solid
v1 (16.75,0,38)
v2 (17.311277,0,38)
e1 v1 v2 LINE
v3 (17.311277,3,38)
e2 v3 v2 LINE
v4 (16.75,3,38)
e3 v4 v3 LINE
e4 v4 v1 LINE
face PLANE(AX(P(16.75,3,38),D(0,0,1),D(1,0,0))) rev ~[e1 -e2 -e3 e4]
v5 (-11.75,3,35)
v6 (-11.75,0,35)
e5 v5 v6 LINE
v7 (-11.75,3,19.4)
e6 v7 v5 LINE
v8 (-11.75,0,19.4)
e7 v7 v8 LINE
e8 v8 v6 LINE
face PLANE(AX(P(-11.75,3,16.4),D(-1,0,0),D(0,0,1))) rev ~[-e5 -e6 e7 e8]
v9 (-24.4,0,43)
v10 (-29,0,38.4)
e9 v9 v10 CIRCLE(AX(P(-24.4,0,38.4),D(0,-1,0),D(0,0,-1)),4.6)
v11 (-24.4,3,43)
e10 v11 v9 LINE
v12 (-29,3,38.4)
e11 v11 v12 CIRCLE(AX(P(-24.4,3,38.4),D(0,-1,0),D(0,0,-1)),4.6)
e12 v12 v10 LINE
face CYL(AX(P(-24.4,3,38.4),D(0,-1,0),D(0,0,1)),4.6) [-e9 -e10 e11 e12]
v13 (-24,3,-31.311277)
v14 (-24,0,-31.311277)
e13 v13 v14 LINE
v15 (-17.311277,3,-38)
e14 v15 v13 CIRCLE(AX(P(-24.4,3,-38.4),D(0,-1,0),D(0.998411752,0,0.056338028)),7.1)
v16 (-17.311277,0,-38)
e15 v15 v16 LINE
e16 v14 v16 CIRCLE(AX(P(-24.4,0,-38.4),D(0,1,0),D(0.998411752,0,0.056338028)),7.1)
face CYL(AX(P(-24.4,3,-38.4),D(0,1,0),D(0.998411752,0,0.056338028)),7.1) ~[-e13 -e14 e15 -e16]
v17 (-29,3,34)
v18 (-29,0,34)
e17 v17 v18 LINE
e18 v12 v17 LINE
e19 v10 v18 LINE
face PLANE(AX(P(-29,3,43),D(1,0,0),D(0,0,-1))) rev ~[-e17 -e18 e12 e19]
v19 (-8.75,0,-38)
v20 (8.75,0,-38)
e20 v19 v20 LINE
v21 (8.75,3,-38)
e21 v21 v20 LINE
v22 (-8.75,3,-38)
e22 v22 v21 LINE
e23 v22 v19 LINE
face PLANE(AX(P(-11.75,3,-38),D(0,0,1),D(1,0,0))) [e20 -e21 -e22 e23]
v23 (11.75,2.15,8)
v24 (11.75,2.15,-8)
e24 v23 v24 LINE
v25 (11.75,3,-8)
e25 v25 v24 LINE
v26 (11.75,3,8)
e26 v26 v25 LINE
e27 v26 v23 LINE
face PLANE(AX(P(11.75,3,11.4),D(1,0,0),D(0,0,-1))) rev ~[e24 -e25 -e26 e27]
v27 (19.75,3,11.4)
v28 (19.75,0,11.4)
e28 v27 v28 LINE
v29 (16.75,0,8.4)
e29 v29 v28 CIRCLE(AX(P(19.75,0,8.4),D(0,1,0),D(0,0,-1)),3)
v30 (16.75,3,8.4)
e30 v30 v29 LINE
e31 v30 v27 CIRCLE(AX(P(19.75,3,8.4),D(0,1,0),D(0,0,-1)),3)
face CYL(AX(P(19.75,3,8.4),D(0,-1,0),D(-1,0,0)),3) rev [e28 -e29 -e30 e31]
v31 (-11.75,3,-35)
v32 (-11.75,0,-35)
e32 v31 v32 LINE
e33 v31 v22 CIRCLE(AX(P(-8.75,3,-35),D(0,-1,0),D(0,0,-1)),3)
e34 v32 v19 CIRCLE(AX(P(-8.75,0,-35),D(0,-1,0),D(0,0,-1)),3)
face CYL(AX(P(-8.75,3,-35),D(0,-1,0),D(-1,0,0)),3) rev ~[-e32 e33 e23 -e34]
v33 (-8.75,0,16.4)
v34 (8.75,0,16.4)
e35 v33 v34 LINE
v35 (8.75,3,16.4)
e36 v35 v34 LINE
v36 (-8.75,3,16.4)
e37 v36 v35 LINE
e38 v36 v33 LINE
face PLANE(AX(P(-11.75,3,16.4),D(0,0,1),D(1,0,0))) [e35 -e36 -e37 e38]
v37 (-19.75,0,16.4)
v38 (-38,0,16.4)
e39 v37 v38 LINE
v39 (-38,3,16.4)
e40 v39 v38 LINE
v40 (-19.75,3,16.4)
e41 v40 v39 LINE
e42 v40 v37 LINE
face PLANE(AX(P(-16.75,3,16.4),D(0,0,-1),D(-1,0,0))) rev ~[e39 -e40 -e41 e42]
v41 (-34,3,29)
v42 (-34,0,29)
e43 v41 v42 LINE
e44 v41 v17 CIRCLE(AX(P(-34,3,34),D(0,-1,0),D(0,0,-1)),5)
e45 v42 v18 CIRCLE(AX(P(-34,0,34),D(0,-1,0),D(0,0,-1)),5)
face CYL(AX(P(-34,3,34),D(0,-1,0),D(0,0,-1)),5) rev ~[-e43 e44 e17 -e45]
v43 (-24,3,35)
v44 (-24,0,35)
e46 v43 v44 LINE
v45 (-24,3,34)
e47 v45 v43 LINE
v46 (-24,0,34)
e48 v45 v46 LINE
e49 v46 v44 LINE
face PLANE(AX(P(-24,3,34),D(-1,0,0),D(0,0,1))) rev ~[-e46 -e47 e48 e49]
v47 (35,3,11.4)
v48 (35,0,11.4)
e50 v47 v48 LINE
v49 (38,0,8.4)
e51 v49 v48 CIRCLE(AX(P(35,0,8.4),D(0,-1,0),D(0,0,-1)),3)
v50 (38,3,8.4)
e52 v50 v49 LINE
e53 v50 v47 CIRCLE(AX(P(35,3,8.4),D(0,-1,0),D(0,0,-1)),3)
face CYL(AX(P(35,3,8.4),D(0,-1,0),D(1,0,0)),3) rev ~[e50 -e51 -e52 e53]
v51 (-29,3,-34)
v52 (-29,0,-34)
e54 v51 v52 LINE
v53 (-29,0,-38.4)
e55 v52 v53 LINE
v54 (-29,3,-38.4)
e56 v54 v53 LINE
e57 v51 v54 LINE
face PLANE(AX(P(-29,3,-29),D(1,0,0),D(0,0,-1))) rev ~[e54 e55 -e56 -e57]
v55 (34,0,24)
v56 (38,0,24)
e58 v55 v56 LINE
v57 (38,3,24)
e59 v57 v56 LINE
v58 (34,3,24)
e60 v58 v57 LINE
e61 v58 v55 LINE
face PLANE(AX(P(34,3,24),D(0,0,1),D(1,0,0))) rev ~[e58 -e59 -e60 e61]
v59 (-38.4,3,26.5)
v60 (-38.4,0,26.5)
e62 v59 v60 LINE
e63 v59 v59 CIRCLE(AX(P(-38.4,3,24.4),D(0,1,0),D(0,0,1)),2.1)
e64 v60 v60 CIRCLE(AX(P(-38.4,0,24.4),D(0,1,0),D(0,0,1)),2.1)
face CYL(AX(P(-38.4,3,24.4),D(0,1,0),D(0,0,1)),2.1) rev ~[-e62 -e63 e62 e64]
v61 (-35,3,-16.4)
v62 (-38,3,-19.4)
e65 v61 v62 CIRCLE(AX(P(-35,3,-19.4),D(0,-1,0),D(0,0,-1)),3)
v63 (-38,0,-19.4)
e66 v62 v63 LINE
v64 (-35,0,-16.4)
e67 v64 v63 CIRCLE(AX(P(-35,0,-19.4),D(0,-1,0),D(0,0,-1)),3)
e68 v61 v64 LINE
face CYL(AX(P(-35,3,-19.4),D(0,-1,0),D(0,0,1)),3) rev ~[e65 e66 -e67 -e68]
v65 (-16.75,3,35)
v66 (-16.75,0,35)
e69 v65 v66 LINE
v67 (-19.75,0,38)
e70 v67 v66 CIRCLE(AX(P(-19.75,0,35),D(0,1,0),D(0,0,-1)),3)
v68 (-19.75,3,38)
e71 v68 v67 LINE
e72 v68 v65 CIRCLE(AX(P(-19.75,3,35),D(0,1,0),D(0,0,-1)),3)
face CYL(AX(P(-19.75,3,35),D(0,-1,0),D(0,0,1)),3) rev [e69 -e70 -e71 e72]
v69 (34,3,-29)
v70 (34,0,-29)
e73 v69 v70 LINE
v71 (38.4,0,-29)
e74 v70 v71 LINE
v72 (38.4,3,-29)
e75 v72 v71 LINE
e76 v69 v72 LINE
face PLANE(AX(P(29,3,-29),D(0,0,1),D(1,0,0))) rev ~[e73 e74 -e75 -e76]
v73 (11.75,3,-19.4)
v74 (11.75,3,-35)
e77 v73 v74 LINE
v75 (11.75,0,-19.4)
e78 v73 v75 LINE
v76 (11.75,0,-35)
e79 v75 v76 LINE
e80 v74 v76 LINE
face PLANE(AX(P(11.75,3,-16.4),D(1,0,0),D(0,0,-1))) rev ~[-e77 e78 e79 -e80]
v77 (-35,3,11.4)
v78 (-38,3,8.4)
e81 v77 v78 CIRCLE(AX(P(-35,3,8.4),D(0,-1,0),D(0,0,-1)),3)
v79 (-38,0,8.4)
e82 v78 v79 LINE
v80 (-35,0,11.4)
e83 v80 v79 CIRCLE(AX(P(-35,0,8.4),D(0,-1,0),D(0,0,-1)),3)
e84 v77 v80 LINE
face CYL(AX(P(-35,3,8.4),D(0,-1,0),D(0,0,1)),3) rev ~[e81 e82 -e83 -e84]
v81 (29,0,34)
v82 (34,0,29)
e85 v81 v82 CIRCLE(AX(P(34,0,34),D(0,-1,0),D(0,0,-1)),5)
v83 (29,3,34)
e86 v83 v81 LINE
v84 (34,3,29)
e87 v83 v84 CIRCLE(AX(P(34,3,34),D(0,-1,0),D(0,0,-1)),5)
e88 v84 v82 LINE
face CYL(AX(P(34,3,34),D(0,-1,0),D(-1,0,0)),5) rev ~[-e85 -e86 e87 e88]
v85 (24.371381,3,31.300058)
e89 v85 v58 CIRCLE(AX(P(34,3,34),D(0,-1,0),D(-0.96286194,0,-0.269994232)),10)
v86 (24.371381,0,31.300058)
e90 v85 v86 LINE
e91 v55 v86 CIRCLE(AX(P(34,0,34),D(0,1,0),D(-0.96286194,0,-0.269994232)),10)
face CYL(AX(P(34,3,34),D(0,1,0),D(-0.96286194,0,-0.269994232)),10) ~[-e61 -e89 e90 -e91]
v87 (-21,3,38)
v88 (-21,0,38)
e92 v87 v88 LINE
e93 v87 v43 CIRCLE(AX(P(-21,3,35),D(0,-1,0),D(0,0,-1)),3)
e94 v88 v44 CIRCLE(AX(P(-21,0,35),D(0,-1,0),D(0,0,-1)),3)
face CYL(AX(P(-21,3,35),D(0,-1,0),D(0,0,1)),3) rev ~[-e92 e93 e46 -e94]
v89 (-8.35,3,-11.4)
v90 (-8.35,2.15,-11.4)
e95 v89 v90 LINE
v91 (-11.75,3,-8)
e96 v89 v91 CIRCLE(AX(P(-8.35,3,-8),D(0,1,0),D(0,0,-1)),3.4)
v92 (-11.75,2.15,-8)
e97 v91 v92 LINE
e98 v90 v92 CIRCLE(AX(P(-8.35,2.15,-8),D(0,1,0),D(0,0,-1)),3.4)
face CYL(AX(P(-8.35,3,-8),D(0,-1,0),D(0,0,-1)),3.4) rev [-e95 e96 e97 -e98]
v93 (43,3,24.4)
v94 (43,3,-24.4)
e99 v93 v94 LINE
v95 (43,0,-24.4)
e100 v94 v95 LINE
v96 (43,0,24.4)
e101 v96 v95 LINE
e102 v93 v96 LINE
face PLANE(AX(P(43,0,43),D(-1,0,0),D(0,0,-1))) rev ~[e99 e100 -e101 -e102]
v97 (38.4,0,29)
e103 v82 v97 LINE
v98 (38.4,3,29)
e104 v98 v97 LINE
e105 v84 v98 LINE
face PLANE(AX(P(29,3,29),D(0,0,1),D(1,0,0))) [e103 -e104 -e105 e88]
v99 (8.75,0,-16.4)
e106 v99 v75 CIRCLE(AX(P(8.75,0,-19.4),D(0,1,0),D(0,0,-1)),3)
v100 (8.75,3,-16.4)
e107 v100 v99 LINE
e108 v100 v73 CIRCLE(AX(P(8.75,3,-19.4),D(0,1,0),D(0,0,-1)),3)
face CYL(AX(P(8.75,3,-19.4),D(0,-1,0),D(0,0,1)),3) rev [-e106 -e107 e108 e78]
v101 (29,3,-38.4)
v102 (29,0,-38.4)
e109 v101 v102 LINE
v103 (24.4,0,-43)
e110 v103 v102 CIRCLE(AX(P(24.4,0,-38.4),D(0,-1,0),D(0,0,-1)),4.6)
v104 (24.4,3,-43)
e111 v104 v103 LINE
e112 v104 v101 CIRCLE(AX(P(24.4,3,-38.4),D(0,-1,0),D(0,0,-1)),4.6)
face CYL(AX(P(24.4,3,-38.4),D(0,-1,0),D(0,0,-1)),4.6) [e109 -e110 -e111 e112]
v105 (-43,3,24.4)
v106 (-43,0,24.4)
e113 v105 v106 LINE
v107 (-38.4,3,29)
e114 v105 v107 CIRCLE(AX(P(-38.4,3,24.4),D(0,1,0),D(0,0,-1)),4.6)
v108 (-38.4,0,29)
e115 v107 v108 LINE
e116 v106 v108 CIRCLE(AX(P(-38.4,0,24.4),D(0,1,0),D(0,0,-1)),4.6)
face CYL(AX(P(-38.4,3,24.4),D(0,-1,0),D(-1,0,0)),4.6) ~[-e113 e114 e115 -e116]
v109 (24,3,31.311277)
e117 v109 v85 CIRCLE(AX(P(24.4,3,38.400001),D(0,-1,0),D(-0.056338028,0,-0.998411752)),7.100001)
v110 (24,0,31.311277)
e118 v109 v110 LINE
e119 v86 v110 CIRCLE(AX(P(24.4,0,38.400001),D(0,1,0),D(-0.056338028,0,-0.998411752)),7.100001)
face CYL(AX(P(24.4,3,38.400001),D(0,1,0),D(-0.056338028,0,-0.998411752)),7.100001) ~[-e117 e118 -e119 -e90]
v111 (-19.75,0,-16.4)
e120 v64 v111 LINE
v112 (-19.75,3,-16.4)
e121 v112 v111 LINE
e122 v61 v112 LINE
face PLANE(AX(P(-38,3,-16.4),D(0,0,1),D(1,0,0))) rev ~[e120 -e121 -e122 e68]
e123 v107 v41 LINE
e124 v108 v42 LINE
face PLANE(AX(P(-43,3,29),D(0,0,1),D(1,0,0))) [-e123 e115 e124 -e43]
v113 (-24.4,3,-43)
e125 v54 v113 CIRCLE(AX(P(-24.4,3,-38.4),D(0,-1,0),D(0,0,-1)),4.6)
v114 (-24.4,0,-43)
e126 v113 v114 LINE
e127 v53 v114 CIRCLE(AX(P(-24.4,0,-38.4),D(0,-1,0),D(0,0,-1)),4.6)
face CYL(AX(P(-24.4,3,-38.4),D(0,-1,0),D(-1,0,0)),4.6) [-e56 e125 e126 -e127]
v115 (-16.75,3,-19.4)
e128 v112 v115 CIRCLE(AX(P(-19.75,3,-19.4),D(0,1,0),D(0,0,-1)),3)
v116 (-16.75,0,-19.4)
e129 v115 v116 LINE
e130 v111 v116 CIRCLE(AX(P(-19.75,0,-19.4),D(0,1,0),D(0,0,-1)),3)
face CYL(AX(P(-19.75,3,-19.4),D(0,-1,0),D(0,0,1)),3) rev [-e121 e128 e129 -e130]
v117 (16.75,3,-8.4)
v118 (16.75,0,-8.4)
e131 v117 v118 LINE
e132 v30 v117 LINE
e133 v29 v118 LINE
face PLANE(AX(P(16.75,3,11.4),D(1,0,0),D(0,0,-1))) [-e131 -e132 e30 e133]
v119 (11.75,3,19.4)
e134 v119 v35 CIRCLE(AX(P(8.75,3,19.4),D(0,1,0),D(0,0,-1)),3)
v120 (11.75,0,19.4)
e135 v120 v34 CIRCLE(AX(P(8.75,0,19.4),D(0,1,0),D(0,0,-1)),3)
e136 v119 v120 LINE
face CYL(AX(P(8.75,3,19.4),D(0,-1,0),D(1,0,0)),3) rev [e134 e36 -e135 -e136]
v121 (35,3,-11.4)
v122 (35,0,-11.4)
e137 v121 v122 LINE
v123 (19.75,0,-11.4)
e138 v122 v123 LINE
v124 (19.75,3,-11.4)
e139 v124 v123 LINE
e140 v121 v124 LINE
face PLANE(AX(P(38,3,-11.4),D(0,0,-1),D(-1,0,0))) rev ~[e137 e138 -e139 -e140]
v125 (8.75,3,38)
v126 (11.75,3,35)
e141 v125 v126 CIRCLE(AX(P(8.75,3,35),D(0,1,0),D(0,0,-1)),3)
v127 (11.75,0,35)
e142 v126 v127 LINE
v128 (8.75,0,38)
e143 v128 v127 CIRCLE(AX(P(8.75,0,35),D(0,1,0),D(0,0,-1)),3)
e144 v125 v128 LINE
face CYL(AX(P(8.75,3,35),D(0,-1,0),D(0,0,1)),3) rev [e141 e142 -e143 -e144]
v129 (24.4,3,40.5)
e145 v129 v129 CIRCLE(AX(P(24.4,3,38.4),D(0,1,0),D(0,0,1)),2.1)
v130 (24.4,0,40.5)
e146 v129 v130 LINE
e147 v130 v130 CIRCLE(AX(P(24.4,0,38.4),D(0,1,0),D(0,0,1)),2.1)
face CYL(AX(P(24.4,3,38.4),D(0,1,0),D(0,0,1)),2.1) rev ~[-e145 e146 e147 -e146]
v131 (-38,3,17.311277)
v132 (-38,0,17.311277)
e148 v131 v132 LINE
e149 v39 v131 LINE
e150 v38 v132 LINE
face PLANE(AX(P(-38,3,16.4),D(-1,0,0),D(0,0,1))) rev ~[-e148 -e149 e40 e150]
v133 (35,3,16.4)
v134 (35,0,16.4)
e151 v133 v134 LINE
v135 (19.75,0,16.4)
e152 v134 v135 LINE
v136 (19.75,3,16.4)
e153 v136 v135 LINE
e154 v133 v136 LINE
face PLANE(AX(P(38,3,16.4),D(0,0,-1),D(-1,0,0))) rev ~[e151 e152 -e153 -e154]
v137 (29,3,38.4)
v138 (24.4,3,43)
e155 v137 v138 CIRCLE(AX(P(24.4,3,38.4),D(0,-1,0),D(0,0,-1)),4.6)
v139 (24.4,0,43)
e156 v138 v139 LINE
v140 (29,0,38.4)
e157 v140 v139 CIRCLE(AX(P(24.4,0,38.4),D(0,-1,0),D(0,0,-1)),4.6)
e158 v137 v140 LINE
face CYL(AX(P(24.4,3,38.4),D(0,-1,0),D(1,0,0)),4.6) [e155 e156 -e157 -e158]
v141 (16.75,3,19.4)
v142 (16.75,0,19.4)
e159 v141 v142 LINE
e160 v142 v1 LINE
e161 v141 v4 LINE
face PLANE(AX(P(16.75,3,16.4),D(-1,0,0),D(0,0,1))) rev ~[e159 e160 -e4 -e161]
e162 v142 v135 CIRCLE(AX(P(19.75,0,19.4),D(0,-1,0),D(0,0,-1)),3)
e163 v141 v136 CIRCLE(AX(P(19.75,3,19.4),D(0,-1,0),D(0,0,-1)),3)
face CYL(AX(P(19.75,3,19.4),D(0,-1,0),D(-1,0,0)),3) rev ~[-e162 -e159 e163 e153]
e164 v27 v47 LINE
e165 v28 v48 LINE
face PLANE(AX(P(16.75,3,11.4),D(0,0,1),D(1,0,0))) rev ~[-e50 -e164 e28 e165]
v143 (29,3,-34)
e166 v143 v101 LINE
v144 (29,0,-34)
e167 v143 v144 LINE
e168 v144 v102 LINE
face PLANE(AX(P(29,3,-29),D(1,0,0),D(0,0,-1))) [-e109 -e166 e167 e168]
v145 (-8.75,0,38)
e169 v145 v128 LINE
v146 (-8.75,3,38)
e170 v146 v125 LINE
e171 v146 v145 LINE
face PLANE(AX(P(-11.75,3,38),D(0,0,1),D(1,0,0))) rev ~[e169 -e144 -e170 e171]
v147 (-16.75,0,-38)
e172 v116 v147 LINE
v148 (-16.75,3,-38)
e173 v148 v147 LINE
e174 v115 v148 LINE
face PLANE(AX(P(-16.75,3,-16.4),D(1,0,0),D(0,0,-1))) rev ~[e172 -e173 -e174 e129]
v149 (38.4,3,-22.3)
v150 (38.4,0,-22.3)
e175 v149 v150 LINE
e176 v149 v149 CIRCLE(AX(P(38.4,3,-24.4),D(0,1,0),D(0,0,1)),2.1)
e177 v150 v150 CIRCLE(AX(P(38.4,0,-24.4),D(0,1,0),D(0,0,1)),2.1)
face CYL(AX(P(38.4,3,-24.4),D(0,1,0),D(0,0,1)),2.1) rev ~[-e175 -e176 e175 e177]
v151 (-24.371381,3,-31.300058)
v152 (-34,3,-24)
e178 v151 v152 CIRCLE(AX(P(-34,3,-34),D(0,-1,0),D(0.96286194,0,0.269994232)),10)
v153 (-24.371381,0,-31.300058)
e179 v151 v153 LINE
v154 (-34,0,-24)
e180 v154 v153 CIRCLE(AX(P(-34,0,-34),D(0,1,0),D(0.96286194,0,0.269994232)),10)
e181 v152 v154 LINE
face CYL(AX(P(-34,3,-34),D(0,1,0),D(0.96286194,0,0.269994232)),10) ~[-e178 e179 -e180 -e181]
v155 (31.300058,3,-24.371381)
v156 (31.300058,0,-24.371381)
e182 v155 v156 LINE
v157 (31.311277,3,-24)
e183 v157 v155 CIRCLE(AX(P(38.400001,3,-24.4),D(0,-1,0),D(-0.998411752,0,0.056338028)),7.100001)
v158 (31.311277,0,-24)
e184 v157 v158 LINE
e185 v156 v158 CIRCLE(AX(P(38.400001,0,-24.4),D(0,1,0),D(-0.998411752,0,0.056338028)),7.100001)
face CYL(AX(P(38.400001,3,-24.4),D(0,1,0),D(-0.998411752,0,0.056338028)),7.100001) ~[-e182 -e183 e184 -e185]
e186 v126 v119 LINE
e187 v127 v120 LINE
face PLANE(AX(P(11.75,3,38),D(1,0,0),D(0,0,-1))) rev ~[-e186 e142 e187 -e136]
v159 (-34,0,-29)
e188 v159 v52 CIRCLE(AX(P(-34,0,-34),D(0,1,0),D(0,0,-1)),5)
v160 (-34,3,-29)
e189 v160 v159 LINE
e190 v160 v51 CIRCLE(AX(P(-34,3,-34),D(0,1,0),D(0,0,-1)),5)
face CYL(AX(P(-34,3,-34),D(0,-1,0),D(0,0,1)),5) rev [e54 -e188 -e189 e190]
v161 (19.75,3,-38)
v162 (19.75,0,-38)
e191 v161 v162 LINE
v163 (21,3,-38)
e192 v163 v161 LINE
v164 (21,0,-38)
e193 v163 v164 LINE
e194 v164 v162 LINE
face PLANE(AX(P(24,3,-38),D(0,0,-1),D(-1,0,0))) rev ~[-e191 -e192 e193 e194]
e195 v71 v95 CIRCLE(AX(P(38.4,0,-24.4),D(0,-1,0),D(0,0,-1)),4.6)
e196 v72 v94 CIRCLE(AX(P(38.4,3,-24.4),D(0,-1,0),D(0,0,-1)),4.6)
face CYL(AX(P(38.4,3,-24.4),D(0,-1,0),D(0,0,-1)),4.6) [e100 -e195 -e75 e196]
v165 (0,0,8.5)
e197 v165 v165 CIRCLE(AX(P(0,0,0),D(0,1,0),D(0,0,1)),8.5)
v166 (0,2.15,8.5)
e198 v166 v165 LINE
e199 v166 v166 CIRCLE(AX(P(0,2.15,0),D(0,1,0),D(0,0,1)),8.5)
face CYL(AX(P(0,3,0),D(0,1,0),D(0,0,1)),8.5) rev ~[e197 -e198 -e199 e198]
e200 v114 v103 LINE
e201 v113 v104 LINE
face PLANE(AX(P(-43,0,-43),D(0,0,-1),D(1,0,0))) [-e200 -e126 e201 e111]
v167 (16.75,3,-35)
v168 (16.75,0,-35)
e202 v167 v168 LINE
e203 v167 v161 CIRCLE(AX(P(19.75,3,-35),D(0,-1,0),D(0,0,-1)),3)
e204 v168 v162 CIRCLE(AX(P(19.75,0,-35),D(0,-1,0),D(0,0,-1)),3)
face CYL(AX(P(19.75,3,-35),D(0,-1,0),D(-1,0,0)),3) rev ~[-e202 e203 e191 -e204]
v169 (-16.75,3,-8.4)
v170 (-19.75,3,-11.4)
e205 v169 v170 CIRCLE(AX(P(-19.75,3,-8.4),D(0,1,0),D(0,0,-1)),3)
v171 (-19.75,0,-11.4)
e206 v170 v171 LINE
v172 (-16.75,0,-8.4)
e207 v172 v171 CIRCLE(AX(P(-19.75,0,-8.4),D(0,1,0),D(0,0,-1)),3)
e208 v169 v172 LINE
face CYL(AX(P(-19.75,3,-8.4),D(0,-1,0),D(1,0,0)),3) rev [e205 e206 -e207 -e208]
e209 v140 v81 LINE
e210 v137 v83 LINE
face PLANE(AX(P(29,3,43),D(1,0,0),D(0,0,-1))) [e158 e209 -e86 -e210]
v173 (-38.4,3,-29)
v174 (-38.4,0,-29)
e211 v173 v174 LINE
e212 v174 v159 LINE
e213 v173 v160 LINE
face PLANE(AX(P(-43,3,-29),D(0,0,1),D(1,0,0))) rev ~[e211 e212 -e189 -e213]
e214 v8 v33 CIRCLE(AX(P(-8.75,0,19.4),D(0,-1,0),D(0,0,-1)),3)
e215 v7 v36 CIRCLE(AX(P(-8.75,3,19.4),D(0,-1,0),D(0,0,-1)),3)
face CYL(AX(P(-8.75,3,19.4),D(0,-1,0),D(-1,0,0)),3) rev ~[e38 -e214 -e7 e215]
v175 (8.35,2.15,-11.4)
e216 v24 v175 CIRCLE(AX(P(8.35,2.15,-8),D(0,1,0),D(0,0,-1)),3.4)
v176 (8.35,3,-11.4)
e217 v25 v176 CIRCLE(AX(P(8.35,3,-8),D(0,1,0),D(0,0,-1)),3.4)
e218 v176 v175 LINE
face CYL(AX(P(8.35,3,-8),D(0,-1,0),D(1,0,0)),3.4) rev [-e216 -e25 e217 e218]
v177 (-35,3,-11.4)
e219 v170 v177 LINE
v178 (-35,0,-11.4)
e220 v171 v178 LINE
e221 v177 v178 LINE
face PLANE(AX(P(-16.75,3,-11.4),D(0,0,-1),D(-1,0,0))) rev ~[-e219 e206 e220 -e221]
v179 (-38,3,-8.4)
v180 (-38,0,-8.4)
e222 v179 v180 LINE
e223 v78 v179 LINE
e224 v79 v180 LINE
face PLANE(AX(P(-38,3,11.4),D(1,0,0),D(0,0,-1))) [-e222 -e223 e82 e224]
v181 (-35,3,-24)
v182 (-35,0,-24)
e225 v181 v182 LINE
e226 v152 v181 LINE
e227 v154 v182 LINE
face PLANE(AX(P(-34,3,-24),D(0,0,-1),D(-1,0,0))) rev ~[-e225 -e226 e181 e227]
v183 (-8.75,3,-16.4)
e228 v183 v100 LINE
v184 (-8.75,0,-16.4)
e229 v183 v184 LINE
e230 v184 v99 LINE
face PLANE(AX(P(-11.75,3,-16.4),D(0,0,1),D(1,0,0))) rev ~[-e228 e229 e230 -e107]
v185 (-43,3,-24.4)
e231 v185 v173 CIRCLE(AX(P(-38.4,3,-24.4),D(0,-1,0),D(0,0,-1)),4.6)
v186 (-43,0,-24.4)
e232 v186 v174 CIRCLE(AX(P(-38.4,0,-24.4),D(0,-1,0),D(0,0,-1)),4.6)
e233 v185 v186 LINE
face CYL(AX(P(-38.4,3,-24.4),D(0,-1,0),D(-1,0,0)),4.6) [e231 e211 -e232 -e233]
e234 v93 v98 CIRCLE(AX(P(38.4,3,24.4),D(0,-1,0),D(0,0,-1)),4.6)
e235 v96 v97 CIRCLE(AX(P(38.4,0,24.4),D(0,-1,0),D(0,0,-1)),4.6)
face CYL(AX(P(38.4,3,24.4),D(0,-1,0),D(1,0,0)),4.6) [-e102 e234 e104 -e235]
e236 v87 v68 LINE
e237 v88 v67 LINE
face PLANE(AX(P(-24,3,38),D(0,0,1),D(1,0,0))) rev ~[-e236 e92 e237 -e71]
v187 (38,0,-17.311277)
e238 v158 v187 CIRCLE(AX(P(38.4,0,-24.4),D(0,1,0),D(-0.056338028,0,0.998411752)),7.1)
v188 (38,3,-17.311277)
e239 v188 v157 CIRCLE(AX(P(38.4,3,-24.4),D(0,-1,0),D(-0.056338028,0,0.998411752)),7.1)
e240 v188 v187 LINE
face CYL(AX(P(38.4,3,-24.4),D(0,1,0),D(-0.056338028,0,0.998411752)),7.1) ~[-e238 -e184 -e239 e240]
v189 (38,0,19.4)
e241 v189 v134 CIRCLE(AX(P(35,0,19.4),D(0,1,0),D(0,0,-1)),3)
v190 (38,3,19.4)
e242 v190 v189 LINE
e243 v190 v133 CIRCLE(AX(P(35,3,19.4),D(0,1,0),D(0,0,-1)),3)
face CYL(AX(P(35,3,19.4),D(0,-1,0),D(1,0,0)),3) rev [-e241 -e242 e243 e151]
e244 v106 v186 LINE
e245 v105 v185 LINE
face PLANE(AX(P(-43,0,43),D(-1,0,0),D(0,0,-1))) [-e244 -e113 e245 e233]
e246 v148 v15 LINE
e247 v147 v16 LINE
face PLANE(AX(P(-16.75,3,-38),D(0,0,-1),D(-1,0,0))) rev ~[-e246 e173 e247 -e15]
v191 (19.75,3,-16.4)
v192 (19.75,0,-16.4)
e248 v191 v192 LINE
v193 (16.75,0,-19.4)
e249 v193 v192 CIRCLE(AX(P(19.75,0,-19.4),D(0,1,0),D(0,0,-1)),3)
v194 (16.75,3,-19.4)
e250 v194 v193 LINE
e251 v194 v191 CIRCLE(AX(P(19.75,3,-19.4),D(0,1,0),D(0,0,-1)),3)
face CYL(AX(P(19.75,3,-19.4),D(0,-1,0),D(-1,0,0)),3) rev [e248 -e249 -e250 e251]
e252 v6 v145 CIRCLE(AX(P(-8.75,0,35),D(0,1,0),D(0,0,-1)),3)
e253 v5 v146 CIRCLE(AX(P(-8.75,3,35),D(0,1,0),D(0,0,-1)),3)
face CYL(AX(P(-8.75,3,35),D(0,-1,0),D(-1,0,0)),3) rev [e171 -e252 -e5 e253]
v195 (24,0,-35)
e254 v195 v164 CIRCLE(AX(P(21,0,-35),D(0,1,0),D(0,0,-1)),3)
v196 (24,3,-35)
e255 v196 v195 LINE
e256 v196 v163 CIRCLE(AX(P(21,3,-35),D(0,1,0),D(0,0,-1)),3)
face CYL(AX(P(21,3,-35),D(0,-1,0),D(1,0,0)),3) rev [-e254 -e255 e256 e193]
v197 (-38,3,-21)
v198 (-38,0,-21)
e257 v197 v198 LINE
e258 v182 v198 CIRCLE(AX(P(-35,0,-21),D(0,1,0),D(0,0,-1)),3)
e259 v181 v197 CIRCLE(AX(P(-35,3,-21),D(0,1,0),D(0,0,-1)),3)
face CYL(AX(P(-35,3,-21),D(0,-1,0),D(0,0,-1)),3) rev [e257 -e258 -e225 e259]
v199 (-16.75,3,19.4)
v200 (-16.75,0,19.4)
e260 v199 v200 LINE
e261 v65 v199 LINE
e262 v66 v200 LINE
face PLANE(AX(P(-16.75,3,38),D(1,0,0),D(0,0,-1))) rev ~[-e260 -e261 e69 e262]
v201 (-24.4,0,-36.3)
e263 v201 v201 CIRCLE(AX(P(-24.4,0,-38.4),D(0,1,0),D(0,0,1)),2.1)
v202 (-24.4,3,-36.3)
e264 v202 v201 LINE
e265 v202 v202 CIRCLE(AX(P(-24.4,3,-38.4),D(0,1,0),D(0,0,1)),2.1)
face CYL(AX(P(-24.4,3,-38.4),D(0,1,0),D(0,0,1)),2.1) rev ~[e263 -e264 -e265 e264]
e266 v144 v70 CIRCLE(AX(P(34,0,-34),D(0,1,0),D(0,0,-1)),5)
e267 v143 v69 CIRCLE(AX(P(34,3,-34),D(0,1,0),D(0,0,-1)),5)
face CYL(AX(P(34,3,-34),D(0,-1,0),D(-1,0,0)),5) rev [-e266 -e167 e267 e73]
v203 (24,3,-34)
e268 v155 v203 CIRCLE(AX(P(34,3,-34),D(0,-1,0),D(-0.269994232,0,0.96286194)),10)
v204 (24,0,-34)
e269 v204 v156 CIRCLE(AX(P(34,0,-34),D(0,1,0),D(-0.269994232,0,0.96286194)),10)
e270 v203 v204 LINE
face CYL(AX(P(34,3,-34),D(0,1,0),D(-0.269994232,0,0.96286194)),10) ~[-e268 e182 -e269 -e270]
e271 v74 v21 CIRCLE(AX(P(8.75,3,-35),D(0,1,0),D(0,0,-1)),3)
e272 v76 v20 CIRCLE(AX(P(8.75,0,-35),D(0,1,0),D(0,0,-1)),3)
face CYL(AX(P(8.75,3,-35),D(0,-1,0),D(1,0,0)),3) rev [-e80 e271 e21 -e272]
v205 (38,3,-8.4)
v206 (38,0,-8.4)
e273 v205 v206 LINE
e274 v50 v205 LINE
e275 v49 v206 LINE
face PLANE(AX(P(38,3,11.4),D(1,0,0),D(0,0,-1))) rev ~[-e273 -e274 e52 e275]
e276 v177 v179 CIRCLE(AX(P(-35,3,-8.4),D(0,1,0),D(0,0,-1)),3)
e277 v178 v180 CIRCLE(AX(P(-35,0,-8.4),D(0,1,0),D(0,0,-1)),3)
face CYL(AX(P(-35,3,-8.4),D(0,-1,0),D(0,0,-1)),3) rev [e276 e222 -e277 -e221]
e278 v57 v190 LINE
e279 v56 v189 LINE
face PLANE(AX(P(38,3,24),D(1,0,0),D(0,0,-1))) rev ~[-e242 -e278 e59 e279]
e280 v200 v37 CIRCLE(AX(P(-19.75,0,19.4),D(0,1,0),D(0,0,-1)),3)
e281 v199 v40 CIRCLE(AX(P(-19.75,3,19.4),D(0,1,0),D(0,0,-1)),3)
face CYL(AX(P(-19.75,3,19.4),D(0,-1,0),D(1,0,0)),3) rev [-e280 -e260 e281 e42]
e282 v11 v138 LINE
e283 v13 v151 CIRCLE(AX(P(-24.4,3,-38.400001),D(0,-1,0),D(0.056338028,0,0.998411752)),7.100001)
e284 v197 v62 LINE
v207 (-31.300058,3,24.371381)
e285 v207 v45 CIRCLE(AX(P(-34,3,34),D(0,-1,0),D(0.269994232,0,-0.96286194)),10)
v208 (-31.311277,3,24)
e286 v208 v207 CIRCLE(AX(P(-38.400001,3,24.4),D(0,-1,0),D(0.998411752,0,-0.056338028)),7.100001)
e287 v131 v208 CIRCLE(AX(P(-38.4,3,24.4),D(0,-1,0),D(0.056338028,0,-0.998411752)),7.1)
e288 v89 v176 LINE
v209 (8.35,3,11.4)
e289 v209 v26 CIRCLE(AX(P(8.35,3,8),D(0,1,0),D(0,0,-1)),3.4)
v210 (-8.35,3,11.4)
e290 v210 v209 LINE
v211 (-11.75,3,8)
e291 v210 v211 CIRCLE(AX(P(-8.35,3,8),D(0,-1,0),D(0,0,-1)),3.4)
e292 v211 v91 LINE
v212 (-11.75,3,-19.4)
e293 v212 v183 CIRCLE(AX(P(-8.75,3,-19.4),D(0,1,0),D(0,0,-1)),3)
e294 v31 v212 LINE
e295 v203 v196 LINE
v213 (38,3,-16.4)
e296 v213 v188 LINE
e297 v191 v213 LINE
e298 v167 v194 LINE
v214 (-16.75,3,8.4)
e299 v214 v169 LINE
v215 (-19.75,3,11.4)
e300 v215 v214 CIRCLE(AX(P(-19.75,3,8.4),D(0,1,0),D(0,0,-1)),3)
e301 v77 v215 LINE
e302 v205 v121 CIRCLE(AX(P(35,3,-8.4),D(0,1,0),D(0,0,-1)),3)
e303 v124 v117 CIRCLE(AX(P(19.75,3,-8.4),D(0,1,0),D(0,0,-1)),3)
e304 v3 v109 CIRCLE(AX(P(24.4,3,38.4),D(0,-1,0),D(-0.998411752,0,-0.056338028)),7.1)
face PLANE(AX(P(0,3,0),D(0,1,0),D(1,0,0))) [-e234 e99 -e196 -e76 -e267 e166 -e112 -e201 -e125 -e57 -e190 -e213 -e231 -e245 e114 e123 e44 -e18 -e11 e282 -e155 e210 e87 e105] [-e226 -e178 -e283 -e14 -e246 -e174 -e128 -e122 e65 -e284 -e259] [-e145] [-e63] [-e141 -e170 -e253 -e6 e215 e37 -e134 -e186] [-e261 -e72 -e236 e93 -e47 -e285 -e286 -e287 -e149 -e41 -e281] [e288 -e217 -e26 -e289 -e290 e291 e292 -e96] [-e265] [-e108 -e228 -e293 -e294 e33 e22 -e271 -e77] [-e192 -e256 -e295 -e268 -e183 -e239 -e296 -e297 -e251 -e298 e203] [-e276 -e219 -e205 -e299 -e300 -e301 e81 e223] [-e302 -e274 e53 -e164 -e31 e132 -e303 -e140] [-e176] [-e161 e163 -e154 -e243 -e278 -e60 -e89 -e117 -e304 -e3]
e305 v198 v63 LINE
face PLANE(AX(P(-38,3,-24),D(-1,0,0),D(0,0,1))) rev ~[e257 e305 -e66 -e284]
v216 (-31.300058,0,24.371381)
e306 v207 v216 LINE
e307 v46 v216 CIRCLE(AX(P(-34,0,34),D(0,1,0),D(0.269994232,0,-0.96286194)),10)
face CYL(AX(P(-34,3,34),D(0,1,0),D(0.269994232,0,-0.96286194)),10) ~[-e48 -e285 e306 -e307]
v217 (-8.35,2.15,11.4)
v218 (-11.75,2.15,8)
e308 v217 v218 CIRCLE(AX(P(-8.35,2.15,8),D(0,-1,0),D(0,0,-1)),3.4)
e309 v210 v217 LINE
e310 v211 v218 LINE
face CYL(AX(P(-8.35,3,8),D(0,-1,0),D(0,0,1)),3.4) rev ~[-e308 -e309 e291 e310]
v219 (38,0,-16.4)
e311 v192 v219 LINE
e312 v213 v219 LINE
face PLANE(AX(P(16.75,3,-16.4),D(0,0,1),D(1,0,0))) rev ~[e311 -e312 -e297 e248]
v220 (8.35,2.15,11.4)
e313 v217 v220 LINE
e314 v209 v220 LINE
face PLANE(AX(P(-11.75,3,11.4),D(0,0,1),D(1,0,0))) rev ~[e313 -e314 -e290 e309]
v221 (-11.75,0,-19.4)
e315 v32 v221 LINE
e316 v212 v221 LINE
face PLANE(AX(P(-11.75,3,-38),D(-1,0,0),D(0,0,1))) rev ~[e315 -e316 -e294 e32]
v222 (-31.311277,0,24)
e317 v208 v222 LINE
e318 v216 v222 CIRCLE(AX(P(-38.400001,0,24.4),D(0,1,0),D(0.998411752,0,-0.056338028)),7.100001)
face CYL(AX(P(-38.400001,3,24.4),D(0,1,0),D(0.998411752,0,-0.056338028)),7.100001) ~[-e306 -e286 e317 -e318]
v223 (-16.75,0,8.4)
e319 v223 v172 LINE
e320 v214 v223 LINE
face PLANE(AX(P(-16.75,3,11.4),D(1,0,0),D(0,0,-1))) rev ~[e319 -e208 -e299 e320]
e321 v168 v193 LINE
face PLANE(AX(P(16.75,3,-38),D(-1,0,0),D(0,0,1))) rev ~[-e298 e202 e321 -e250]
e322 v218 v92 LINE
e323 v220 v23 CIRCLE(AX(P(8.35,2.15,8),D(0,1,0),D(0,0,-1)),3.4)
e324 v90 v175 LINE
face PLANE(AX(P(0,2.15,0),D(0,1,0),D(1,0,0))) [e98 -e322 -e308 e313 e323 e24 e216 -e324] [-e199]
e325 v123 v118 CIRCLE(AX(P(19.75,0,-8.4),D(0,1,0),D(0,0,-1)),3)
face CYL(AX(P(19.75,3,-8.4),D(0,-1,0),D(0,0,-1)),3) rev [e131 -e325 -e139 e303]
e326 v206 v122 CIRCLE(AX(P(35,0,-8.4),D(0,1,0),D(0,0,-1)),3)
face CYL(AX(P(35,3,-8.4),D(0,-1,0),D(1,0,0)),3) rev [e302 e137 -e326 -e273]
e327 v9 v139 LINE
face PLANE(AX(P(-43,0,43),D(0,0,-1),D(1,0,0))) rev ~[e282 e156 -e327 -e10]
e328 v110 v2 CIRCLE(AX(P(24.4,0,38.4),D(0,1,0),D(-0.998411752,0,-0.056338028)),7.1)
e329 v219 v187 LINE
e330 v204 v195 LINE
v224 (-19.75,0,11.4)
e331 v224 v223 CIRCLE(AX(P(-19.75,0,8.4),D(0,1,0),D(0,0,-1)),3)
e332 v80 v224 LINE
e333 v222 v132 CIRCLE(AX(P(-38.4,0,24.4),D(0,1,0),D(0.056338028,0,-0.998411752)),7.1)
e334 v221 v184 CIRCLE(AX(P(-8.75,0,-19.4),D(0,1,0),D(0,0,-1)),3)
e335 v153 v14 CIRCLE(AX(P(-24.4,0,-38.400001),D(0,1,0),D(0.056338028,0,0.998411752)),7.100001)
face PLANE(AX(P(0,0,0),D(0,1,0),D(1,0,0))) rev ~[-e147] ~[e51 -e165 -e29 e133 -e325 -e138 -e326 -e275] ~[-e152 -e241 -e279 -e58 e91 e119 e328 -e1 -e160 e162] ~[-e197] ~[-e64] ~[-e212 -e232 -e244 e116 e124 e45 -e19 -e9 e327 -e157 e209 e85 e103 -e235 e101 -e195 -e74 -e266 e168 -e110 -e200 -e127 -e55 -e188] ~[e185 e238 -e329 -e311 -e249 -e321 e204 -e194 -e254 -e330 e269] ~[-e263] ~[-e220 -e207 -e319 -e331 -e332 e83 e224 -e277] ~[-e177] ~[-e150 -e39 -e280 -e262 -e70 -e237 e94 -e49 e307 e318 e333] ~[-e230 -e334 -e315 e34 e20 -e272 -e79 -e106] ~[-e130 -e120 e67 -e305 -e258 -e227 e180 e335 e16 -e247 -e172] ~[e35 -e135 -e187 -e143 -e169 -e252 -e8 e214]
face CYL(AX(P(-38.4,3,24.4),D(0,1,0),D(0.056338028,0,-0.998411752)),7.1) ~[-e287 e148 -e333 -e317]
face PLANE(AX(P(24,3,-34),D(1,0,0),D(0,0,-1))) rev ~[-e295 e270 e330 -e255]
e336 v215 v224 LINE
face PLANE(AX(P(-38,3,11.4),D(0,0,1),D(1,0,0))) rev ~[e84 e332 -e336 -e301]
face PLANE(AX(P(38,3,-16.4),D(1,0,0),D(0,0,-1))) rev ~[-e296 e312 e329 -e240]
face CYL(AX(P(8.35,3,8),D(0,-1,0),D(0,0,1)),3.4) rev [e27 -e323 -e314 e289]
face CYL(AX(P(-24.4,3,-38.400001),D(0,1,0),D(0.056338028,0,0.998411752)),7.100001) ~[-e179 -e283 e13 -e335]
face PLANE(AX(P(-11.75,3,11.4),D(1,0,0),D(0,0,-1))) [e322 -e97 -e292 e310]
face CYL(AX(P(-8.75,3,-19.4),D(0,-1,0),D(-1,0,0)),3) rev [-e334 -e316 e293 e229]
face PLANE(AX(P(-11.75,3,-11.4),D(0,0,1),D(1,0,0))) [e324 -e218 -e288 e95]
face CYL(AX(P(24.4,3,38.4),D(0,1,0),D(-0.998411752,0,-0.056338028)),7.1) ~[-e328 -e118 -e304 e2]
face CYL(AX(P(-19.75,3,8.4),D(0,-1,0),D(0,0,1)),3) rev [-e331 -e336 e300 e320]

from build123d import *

# Parameters (mm, degrees)
SKETCH1_W           = 86
SKETCH1_H           = 86
BOSS_EXTRUDE1_DEPTH = 3
SKETCH2_R           = 8.5
SKETCH2_W           = 14
SKETCH2_H           = 14
CUT_EXTRUDE1_DEPTH  = 61.88513776
FILLET1_R           = 4.6
FILLET2_R           = 5
SKETCH3_R           = 2.1
CUT_EXTRUDE2_DEPTH  = 61.88513776
SKETCH4_W           = 23.5
SKETCH4_H           = 22.8
SKETCH4_R           = 8.5
CUT_EXTRUDE3_DEPTH  = 0.85
FILLET3_R           = 3.4
SKETCH5_W           = 23.5
SKETCH5_H           = 14
SKETCH5_H_2         = 7.6
SKETCH5_W_2         = 14
SKETCH5_H_3         = 22.8
SKETCH5_W_3         = 7.25
CUT_EXTRUDE4_DEPTH  = 61.88513776
FILLET4_R           = 3


with BuildPart() as part:
    # Sketch1 → Boss-Extrude1 (new body)
    with BuildSketch(Plane(origin=(0, 0, 0), x_dir=(1, 0, 0), z_dir=(0, 1, 0))):
        Rectangle(SKETCH1_W, SKETCH1_H)
    extrude(amount=BOSS_EXTRUDE1_DEPTH)

    # Sketch2 → Cut-Extrude1 (cut, through all)
    with BuildSketch(Plane(origin=(0, 3, 0), x_dir=(1, 0, 0), z_dir=(0, 1, 0))):
        with Locations(Location((0, 0, 0), (0, 0, 270))):
            Circle(SKETCH2_R)
        with Locations((36, 36)):
            Rectangle(SKETCH2_W, SKETCH2_H)
        with Locations((-36, 36)):
            Rectangle(SKETCH2_W, SKETCH2_H)
        with Locations((36, -36)):
            Rectangle(SKETCH2_W, SKETCH2_H)
        with Locations((-36, -36)):
            Rectangle(SKETCH2_W, SKETCH2_H)
    extrude(amount=-CUT_EXTRUDE1_DEPTH, mode=Mode.SUBTRACT)

    # Fillet1
    fillet1_edges = [part.edges().sort_by_distance(p)[0] for p in [
        (-43, 1.5, 29),
        (-29, 1.5, 43),
        (43, 1.5, 29),
        (29, 1.5, 43),
        (29, 1.5, -43),
        (43, 1.5, -29),
        (-43, 1.5, -29),
        (-29, 1.5, -43),
    ]]
    fillet(fillet1_edges, radius=FILLET1_R)

    # Fillet2
    fillet2_edges = [part.edges().sort_by_distance(p)[0] for p in [
        (-29, 1.5, 29),
        (29, 1.5, 29),
        (29, 1.5, -29),
        (-29, 1.5, -29),
    ]]
    fillet(fillet2_edges, radius=FILLET2_R)

    # Sketch3 → Cut-Extrude2 (cut, through all)
    with BuildSketch(Plane(origin=(0, 3, 0), x_dir=(1, 0, 0), z_dir=(0, 1, 0))):
        with Locations(Location((38.4, 24.4, 0), (0, 0, 270))):
            Circle(SKETCH3_R)
        with Locations(Location((-24.4, 38.4, 0), (0, 0, 270))):
            Circle(SKETCH3_R)
        with Locations(Location((24.4, -38.4, 0), (0, 0, 270))):
            Circle(SKETCH3_R)
        with Locations(Location((-38.4, -24.4, 0), (0, 0, 270))):
            Circle(SKETCH3_R)
    extrude(amount=-CUT_EXTRUDE2_DEPTH, mode=Mode.SUBTRACT)

    # Sketch4 → Cut-Extrude3 (cut)
    with BuildSketch(Plane(origin=(0, 3, 0), x_dir=(1, 0, 0), z_dir=(0, 1, 0))):
        Rectangle(SKETCH4_W, SKETCH4_H)
        with Locations(Location((0, 0, 0), (0, 0, 270))):
            Circle(SKETCH4_R, mode=Mode.SUBTRACT)
    extrude(amount=-CUT_EXTRUDE3_DEPTH, mode=Mode.SUBTRACT)

    # Fillet3
    fillet3_edges = [part.edges().sort_by_distance(p)[0] for p in [
        (-11.75, 2.575, 11.4),
        (-11.75, 2.575, -11.4),
        (11.75, 2.575, -11.4),
        (11.75, 2.575, 11.4),
    ]]
    fillet(fillet3_edges, radius=FILLET3_R)

    # Sketch5 → Cut-Extrude4 (cut, through all)
    with BuildSketch(Plane(origin=(0, 3, 0), x_dir=(1, 0, 0), z_dir=(0, 1, 0))):
        with Locations((0, 31)):
            Rectangle(SKETCH5_W, SKETCH5_H)
        with Locations((0, 20.2)):
            Rectangle(SKETCH5_W, SKETCH5_H_2)
        with Locations((-31, 0)):
            Rectangle(SKETCH5_W_2, SKETCH5_H_3)
        with Locations((-20.375, 0)):
            Rectangle(SKETCH5_W_3, SKETCH5_H_3)
        with Locations((31, 0)):
            Rectangle(SKETCH5_W_2, SKETCH5_H_3)
        with Locations((20.375, 0)):
            Rectangle(SKETCH5_W_3, SKETCH5_H_3)
        with Locations((0, -20.2)):
            Rectangle(SKETCH5_W, SKETCH5_H_2)
        with Locations((0, -31)):
            Rectangle(SKETCH5_W, SKETCH5_H)
        with Locations((20.375, -20.2)):
            Rectangle(SKETCH5_W_3, SKETCH5_H_2)
        Polygon((24, -16.4), (24, -24), (34, -24), (38, -24), (38, -16.4), align=None)
        with BuildLine():
            Line((24, -24), (16.75, -24))
            Line((16.75, -24), (16.75, -38))
            Line((16.75, -38), (17.311276561, -38))
            ThreePointArc((17.311276561, -38), (19.379541854, -33.379541854), (24, -31.311276561))
            Line((24, -31.311276561), (24, -24))
        make_face()
        with BuildLine():
            Line((34, -24), (24, -24))
            Line((24, -24), (24, -31.311276561))
            ThreePointArc((24, -31.311276561), (24.185616902, -31.303237366), (24.371380604, -31.300057681))
            ThreePointArc((24.371380604, -31.300057681), (27.958453145, -26.031329371), (34, -24))
        make_face()
        Polygon((-16.75, -24), (-24, -24), (-24, -34), (-24, -38), (-16.75, -38), align=None)
        with Locations((-20.375, -20.2)):
            Rectangle(SKETCH5_W_3, SKETCH5_H_2)
        with BuildLine():
            Line((-24, -24), (-24, -16.4))
            Line((-24, -16.4), (-38, -16.4))
            Line((-38, -16.4), (-38, -17.311276561))
            ThreePointArc((-38, -17.311276561), (-33.379541854, -19.379541854), (-31.311276561, -24))
            Line((-31.311276561, -24), (-24, -24))
        make_face()
        with BuildLine():
            Line((-24, -34), (-24, -24))
            Line((-24, -24), (-31.311276561, -24))
            ThreePointArc((-31.311276561, -24), (-31.303237366, -24.185616902), (-31.300057681, -24.371380604))
            ThreePointArc((-31.300057681, -24.371380604), (-26.031329371, -27.958453145), (-24, -34))
        make_face()
        Polygon((-38, 16.4), (-24, 16.4), (-24, 24), (-34, 24), (-38, 24), align=None)
        with BuildLine():
            Line((-24, 31.311276561), (-24, 24))
            Line((-24, 24), (-16.75, 24))
            Line((-16.75, 24), (-16.75, 38))
            Line((-16.75, 38), (-17.311276561, 38))
            ThreePointArc((-17.311276561, 38), (-19.379541854, 33.379541854), (-24, 31.311276561))
        make_face()
        with Locations((-20.375, 20.2)):
            Rectangle(SKETCH5_W_3, SKETCH5_H_2)
        with BuildLine():
            Line((-34, 24), (-24, 24))
            Line((-24, 24), (-24, 31.311276561))
            ThreePointArc((-24, 31.311276561), (-24.185616902, 31.303237366), (-24.371380604, 31.300057681))
            ThreePointArc((-24.371380604, 31.300057681), (-27.958453145, 26.031329371), (-34, 24))
        make_face()
        Polygon((16.75, 38), (16.75, 24), (24, 24), (24, 34), (24, 38), align=None)
        with Locations((20.375, 20.2)):
            Rectangle(SKETCH5_W_3, SKETCH5_H_2)
        with BuildLine():
            Line((31.311276561, 24), (24, 24))
            Line((24, 24), (24, 16.4))
            Line((24, 16.4), (38, 16.4))
            Line((38, 16.4), (38, 17.311276561))
            ThreePointArc((38, 17.311276561), (33.379541854, 19.379541854), (31.311276561, 24))
        make_face()
        with BuildLine():
            Line((24, 34), (24, 24))
            Line((24, 24), (31.311276561, 24))
            ThreePointArc((31.311276561, 24), (31.303237366, 24.185616902), (31.300057681, 24.371380604))
            ThreePointArc((31.300057681, 24.371380604), (26.031329371, 27.958453145), (24, 34))
        make_face()
    extrude(amount=-CUT_EXTRUDE4_DEPTH, mode=Mode.SUBTRACT)

    # Fillet4
    fillet4_edges = [part.edges().sort_by_distance(p)[0] for p in [
        (-16.75, 1.5, 11.4),
        (-38, 1.5, 11.4),
        (-38, 1.5, -11.4),
        (-16.75, 1.5, -11.4),
        (16.75, 1.5, -11.4),
        (38, 1.5, -11.4),
        (38, 1.5, 11.4),
        (16.75, 1.5, 11.4),
        (-11.75, 1.5, 38),
        (-11.75, 1.5, 16.4),
        (11.75, 1.5, 16.4),
        (11.75, 1.5, 38),
        (16.75, 1.5, 16.4),
        (38, 1.5, 16.4),
        (-16.75, 1.5, 16.4),
        (-16.75, 1.5, 38),
        (-24, 1.5, 38),
        (-38, 1.5, -24),
        (-16.75, 1.5, -16.4),
        (-38, 1.5, -16.4),
        (16.75, 1.5, -16.4),
        (16.75, 1.5, -38),
        (24, 1.5, -38),
        (-11.75, 1.5, -16.4),
        (-11.75, 1.5, -38),
        (11.75, 1.5, -38),
        (11.75, 1.5, -16.4),
    ]]
    fillet(fillet4_edges, radius=FILLET4_R)


solid = part.part
